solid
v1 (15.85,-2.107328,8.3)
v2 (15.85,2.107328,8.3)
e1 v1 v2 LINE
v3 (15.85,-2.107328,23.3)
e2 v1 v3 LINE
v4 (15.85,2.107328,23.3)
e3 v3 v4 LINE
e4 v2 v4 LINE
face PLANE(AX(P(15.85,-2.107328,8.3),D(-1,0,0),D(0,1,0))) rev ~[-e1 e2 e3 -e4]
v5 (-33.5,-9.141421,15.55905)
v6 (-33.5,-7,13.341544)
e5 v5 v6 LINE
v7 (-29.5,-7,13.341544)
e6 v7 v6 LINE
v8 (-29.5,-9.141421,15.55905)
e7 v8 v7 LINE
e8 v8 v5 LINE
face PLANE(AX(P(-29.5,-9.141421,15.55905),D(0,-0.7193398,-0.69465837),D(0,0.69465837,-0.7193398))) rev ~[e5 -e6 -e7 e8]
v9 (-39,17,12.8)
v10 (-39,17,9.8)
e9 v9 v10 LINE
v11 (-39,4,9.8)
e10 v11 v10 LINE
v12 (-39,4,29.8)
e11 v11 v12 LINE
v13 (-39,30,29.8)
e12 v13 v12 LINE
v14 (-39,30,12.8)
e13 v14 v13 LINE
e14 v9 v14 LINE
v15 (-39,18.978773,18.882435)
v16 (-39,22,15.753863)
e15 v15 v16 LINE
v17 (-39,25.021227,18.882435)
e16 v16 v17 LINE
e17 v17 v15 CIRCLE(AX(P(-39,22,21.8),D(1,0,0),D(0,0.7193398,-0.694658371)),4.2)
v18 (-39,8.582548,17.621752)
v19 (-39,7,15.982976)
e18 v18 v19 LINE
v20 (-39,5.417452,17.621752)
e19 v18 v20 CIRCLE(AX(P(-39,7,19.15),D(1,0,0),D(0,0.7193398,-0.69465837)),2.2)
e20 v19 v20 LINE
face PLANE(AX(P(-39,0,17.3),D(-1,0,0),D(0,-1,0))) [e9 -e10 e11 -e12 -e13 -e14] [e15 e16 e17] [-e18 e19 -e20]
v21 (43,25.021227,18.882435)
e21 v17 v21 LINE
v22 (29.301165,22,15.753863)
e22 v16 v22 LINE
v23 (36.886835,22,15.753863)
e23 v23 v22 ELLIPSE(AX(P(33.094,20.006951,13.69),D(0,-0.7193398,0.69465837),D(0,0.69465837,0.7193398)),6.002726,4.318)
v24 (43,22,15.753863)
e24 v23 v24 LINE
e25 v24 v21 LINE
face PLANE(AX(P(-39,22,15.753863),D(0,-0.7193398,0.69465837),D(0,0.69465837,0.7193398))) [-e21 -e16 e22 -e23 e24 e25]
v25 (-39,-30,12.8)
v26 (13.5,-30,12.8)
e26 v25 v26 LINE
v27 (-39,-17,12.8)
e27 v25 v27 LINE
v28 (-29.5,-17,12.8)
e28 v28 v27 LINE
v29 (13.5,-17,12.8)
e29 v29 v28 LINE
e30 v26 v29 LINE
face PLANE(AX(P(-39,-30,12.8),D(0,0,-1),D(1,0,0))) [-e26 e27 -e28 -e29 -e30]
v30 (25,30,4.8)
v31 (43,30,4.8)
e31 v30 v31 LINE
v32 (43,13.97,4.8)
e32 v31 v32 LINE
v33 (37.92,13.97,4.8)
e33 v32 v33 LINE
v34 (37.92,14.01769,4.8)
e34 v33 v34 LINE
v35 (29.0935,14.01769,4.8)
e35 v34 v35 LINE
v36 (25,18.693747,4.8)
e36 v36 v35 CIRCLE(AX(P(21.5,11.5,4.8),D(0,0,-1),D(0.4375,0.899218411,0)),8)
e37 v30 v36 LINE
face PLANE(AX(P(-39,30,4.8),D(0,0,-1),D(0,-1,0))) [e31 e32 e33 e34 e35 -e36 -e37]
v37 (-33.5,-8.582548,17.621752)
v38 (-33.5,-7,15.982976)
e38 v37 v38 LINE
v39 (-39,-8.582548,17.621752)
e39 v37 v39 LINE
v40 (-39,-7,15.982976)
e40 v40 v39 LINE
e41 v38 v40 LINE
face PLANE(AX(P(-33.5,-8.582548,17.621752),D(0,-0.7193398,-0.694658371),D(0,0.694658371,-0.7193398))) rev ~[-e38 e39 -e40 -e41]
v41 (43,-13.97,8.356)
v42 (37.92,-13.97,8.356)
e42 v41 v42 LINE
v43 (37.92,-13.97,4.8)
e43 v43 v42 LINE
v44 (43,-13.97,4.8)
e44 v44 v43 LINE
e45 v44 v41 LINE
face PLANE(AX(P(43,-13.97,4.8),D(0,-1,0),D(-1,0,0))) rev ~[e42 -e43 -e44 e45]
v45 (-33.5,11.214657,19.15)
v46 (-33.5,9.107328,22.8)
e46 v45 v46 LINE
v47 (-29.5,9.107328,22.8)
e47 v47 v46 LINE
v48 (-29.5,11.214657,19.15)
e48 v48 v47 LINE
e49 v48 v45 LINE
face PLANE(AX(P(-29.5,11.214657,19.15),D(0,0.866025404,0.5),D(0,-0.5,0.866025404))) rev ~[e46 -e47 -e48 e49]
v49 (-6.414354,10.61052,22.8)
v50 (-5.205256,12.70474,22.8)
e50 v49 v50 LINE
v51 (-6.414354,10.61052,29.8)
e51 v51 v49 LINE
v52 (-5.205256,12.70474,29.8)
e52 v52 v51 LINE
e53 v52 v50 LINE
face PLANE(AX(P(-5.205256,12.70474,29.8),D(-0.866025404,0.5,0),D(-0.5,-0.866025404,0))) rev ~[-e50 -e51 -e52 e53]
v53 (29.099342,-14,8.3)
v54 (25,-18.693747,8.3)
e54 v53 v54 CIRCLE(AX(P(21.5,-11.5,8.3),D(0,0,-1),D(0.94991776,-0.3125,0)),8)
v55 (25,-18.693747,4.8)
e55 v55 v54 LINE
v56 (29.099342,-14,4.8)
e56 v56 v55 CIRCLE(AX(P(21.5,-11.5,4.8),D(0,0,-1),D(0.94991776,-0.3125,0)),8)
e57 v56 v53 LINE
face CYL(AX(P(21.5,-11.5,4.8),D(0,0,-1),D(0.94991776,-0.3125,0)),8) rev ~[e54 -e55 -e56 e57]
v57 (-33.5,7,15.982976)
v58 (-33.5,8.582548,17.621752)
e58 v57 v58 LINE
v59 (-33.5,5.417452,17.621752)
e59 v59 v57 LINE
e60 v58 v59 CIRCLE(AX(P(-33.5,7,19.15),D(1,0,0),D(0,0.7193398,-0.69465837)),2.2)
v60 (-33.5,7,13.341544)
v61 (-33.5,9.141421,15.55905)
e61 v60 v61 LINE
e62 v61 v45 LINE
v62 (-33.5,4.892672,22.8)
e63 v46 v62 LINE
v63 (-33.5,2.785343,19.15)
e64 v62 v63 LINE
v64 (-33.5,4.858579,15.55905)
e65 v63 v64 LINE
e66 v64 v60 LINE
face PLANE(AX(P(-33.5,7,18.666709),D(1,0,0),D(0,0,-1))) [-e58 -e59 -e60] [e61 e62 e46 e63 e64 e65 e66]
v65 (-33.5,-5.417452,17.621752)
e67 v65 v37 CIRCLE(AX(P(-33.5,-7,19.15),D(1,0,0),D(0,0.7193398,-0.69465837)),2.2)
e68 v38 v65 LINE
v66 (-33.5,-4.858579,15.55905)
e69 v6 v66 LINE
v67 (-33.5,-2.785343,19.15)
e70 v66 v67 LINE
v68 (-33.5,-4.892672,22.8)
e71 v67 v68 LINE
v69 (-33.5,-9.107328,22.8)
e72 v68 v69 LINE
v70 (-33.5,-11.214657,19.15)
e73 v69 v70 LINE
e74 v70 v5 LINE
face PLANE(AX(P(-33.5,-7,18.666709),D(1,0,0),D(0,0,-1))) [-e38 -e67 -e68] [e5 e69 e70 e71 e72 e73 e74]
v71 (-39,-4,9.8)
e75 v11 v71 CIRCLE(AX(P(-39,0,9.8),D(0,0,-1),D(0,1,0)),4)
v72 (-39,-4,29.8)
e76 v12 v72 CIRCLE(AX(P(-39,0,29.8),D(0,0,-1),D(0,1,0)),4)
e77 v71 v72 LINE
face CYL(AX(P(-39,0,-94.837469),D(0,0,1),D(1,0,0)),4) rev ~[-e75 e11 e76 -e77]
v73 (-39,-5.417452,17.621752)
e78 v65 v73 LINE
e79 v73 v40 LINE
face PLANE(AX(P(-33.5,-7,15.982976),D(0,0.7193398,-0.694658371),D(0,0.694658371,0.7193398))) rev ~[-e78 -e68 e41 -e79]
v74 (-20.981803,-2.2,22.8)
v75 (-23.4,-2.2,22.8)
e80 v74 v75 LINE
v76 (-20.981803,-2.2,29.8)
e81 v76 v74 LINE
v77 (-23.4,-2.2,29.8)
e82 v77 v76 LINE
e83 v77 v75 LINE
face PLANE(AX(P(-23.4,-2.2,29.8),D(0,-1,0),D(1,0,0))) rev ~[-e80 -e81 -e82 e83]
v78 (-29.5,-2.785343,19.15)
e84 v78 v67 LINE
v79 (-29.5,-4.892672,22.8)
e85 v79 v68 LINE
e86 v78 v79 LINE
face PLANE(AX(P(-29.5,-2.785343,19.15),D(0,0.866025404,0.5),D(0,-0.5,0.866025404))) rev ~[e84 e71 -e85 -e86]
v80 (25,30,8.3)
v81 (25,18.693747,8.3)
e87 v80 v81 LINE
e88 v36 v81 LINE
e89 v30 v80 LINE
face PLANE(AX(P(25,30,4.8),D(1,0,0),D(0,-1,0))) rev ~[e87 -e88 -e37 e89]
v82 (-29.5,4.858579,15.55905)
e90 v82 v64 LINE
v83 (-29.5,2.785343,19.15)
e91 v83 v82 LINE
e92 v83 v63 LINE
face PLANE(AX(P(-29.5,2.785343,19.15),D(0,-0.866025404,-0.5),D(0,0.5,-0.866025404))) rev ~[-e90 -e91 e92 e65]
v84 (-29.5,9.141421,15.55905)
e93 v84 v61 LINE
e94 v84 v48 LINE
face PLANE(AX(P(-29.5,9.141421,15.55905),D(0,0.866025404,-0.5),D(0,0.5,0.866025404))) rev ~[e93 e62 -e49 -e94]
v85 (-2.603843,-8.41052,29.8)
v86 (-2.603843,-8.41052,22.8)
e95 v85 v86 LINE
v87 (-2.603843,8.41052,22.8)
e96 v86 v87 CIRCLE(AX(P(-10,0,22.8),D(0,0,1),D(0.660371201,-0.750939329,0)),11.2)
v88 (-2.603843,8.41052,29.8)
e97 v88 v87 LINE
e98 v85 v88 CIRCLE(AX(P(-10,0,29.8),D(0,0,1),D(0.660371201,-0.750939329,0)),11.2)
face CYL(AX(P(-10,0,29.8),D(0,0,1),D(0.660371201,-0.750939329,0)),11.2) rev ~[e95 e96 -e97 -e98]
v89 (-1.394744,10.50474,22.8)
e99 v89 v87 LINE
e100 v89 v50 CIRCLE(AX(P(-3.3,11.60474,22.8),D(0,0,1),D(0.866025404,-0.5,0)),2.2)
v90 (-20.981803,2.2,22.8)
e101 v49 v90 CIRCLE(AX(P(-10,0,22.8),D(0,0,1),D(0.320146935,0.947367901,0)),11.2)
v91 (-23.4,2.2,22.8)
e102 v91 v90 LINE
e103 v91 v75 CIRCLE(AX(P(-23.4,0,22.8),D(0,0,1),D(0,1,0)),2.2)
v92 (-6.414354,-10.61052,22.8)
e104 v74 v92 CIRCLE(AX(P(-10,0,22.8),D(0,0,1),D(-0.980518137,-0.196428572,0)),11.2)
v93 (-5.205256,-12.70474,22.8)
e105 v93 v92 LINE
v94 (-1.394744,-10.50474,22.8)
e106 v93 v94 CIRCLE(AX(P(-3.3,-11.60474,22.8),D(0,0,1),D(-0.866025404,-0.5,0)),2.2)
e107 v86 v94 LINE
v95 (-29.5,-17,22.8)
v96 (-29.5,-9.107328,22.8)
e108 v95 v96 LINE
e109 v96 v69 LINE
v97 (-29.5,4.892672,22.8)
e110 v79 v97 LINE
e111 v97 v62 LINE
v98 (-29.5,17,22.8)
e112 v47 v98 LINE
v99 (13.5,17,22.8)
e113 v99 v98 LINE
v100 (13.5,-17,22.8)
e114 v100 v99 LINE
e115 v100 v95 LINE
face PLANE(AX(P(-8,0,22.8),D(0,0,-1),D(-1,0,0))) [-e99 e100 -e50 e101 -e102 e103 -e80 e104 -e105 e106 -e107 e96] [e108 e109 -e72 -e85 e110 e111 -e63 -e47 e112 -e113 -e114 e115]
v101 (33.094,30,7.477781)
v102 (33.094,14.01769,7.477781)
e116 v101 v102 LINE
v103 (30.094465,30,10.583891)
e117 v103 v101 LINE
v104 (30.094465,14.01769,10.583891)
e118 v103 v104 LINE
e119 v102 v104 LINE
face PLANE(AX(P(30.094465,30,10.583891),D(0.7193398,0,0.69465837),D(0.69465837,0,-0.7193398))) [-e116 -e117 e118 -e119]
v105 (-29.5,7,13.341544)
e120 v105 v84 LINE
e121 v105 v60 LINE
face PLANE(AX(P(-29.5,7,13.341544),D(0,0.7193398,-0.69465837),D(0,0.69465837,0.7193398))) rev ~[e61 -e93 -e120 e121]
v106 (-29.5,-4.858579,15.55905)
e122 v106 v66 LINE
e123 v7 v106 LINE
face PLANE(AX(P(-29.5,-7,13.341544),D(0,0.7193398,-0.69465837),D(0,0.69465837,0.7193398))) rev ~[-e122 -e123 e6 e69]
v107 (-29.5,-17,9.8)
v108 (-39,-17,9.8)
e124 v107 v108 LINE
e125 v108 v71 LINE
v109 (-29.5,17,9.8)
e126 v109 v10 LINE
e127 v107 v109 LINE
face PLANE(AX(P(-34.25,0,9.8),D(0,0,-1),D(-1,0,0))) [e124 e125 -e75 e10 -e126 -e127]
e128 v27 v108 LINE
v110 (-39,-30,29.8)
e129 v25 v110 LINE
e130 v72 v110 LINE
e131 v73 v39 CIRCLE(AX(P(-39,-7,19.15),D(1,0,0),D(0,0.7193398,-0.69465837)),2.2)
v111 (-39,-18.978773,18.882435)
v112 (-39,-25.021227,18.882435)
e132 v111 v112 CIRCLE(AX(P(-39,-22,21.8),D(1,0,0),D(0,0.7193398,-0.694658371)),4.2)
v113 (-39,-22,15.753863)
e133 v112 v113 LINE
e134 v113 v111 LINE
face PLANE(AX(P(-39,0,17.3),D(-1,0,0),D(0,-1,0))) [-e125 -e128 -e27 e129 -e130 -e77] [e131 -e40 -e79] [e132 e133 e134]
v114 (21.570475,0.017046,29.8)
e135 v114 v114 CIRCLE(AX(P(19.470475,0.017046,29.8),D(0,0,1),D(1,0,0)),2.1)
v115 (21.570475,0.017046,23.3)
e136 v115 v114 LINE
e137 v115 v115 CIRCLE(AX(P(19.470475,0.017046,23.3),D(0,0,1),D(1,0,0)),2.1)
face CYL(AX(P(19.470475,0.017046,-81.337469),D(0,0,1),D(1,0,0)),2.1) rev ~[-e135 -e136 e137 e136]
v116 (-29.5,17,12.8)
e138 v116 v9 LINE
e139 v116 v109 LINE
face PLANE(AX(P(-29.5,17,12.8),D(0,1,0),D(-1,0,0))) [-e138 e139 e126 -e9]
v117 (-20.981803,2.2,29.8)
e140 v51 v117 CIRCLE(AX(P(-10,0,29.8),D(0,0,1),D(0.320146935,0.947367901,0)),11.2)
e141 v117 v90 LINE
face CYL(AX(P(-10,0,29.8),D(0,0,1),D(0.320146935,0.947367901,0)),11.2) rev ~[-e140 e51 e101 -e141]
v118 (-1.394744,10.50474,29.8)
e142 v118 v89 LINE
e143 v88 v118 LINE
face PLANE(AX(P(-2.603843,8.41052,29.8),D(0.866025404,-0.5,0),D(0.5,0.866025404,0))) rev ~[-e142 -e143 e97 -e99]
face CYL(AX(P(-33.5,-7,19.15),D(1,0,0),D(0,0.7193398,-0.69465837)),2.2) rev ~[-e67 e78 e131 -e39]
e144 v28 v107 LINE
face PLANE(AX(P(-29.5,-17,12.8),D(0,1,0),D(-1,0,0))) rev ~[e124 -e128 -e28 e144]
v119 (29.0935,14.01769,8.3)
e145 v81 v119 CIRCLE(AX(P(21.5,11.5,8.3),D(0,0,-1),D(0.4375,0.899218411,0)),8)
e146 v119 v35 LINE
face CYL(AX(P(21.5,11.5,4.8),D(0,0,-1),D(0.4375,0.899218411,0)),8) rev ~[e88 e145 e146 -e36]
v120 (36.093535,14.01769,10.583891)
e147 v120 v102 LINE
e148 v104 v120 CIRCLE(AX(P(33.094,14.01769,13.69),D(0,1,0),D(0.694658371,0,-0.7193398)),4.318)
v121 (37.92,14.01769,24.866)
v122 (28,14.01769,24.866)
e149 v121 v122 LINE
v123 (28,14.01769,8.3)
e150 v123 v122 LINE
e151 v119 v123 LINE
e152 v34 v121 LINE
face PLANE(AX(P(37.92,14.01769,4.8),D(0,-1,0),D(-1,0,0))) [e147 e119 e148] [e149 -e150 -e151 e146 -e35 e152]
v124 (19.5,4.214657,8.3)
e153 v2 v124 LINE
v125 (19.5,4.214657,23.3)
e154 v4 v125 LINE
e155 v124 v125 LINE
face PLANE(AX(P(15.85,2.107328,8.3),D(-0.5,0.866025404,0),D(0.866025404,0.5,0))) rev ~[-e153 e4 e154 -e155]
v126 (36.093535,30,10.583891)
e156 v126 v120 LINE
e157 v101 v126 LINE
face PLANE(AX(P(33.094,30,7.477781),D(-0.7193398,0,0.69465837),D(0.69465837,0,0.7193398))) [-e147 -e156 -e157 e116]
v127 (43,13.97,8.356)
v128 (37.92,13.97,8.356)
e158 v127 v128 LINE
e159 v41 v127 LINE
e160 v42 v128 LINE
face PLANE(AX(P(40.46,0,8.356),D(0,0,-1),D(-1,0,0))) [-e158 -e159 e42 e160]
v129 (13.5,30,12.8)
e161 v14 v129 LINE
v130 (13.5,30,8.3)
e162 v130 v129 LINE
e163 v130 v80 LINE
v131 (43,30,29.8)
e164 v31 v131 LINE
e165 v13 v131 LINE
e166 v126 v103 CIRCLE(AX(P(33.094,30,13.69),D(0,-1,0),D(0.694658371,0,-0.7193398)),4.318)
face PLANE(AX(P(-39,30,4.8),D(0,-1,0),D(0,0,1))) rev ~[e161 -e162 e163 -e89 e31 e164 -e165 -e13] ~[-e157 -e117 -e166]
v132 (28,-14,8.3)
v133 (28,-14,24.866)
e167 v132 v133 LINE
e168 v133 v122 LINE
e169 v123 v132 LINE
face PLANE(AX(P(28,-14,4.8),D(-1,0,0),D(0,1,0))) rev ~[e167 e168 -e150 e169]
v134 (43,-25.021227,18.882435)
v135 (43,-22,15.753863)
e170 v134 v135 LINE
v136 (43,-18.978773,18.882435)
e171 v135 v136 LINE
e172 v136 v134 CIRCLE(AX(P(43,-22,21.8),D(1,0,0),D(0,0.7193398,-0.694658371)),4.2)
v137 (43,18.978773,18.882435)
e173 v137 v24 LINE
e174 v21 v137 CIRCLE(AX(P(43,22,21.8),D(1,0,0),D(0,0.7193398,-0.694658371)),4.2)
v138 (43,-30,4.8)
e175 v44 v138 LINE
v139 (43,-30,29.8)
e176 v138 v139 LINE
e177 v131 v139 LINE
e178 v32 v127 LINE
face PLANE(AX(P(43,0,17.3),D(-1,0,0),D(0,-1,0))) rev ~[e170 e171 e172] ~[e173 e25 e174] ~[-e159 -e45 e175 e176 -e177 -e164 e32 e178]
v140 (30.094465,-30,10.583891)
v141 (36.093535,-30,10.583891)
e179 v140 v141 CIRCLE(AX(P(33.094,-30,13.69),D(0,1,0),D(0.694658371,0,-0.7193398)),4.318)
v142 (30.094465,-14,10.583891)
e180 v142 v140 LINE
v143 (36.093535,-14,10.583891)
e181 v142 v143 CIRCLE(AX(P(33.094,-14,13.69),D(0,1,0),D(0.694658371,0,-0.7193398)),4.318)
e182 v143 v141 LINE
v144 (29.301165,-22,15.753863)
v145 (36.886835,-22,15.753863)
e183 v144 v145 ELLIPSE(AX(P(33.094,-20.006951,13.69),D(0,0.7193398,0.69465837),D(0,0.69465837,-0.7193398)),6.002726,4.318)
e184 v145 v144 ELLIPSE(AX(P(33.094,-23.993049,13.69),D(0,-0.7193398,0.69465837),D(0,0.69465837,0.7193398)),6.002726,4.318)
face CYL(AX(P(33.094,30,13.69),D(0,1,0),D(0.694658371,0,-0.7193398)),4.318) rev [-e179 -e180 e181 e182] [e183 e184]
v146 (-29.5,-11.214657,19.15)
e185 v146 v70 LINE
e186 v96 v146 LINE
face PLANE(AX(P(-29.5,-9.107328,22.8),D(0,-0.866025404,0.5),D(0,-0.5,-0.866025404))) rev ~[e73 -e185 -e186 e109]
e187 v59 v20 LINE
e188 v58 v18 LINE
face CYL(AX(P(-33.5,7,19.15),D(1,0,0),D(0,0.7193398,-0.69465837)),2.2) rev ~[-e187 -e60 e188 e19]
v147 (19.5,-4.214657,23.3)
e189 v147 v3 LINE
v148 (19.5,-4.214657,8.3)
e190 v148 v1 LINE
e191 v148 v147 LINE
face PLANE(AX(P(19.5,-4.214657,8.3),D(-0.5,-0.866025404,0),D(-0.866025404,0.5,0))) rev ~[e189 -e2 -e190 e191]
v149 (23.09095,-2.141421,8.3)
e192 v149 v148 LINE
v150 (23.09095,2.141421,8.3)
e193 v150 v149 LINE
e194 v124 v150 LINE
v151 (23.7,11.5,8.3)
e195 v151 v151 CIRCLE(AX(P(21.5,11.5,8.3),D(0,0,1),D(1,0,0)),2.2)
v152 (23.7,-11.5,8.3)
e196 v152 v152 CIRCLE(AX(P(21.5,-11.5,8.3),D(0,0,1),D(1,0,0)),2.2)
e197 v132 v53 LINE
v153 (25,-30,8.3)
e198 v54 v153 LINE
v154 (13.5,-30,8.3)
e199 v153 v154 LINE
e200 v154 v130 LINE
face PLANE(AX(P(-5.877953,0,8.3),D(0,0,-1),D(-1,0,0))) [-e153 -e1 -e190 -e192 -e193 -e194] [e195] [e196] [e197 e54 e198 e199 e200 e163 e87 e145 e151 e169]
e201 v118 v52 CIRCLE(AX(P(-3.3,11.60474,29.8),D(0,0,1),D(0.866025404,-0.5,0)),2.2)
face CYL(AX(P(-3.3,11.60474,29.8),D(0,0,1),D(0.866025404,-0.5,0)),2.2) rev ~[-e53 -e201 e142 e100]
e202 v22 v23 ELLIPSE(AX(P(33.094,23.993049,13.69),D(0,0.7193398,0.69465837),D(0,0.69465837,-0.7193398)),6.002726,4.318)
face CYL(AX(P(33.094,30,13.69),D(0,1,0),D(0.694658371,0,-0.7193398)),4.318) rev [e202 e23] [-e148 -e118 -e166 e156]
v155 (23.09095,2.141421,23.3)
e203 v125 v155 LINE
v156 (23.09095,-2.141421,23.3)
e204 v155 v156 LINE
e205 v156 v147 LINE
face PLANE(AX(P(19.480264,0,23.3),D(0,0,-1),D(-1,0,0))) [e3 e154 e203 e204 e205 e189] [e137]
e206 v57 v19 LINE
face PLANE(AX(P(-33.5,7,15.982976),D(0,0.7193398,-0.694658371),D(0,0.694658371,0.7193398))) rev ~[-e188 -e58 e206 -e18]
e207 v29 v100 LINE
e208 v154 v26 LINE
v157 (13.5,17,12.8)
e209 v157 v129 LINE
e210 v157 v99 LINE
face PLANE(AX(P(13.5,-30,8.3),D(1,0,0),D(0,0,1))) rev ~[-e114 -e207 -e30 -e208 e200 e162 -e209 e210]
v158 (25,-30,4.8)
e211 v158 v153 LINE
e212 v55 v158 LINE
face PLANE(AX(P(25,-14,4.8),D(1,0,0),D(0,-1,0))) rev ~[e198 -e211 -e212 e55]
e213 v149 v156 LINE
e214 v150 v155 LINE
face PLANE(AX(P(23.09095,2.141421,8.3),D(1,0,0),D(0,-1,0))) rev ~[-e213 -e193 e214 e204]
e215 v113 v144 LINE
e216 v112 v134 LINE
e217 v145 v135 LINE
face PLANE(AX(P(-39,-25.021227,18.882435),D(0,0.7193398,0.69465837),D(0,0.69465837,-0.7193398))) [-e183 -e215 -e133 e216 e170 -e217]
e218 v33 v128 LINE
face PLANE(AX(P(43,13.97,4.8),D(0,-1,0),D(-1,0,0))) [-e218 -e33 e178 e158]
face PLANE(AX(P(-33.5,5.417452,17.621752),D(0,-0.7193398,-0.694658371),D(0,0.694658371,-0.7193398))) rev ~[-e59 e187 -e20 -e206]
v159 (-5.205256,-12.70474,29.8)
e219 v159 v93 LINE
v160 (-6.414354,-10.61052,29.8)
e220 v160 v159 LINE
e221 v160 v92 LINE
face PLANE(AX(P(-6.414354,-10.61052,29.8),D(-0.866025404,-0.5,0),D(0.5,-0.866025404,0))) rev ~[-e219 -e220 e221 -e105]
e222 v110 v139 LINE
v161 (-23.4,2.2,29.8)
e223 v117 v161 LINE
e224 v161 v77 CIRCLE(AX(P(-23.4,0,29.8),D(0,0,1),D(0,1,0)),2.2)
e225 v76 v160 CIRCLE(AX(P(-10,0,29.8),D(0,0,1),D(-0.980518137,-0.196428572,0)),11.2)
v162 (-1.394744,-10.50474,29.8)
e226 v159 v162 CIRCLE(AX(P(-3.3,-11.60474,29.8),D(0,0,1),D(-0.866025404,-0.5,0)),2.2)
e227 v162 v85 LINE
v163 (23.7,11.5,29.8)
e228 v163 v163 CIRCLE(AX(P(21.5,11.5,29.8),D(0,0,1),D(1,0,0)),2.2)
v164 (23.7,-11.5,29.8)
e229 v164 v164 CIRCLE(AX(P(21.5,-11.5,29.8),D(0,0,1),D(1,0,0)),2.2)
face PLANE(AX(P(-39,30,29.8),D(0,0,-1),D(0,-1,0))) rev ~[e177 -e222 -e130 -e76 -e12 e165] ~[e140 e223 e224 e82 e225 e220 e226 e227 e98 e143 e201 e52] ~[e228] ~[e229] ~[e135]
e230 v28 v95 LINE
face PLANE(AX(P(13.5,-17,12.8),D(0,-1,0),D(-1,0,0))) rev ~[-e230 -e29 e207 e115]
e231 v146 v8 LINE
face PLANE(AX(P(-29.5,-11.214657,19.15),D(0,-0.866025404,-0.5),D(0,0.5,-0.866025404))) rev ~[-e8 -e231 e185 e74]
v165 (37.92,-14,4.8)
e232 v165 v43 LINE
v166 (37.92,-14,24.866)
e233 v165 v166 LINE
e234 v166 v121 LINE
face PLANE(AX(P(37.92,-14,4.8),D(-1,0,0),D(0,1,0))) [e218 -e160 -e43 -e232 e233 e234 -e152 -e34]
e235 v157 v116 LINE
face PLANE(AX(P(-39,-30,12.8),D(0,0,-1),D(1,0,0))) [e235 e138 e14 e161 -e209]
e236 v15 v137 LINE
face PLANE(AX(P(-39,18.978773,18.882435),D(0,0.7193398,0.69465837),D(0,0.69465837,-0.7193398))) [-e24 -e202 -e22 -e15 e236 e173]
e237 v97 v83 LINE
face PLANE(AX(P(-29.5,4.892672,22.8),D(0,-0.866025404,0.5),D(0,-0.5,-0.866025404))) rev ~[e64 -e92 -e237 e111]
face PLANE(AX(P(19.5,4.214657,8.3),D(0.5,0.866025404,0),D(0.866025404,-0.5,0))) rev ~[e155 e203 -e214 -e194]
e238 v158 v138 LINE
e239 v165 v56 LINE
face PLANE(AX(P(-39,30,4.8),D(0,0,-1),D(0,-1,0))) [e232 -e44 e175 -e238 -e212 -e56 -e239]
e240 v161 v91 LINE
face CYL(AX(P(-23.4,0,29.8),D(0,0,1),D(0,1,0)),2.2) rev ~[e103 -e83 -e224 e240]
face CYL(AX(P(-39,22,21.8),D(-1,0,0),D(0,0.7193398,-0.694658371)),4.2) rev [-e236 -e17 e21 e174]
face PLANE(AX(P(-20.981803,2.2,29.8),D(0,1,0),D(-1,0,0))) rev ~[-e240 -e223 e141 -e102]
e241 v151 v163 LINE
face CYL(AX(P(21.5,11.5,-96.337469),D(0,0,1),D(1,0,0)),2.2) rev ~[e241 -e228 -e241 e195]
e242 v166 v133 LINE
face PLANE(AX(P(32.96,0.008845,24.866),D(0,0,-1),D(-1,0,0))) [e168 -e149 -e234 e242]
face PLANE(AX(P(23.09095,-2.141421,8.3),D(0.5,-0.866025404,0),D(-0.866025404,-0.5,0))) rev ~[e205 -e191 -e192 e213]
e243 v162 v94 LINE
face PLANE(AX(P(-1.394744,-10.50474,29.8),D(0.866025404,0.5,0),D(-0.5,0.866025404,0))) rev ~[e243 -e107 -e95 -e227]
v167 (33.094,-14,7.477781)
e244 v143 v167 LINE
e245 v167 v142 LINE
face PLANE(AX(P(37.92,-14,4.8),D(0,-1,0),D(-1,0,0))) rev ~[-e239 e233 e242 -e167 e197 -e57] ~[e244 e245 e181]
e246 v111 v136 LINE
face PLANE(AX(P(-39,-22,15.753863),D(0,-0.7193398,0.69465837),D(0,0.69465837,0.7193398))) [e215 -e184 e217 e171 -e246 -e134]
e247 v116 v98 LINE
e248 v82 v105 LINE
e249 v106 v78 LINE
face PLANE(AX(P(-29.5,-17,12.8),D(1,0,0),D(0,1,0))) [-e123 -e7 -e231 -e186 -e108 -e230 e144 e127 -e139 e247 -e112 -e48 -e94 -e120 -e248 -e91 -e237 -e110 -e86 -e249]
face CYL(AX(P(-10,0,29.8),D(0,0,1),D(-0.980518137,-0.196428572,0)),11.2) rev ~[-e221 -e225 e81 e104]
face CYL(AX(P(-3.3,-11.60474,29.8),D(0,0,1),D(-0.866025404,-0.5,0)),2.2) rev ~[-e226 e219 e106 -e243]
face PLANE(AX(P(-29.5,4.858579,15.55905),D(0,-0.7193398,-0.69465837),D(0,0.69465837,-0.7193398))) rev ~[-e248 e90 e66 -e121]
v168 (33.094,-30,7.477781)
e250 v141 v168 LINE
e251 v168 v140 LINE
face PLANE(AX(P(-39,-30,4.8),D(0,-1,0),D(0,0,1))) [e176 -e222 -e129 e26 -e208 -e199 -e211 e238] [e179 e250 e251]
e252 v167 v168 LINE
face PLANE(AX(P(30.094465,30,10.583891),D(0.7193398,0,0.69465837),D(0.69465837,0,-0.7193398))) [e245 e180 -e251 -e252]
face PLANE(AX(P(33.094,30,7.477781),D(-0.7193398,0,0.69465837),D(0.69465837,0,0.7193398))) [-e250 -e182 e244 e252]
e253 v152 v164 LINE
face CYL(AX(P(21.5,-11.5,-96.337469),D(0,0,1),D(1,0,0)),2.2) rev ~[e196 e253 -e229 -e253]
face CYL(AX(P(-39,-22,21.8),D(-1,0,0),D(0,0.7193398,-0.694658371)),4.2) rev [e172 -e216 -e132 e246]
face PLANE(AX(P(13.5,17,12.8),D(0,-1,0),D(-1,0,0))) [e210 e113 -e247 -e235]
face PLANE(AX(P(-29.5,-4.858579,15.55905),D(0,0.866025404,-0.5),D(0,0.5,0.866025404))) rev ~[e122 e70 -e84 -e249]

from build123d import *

# Parameters (mm, degrees)
SKETCH1_W           = 60
SKETCH1_H           = 25
BOSS_EXTRUDE1_DEPTH = 82
CUT_EXTRUDE7_DEPTH  = 3.5
SKETCH50_W          = 52.5
SKETCH50_H          = 4.5
CUT_EXTRUDE9_DEPTH  = 80.605527446
SKETCH51_W          = 9.5
SKETCH51_H          = 34
BOSS_EXTRUDE2_DEPTH = 3
SKETCH52_W          = 43
SKETCH52_H          = 34
CUT_EXTRUDE10_DEPTH = 10
CUT_EXTRUDE11_DEPTH = 4
CUT_EXTRUDE12_DEPTH = 4
CUT_EXTRUDE13_DEPTH = 3.5
CUT_EXTRUDE14_DEPTH = 3.5
CUT_EXTRUDE15_DEPTH = 88.408752422
CUT_EXTRUDE16_DEPTH = 59.086142926
CUT_EXTRUDE17_DEPTH = 88.408752422
CUT_EXTRUDE18_DEPTH = 15
HOLE1_D             = 4.2
HOLE2_D             = 4.4
HOLE3_D             = 4.4
HOLE4_D             = 8
SKETCH125_W         = 5.08
SKETCH125_H         = 27.94
CUT_EXTRUDE19_DEPTH = 3.556
SKETCH126_W         = 9.92
SKETCH126_H         = 28.017689761
CUT_EXTRUDE20_DEPTH = 20.066
CUT_EXTRUDE21_DEPTH = 80.605527446


with BuildPart() as part:
    # Sketch1 → Boss-Extrude1 (new body)
    with BuildSketch(Plane(origin=(-39, 0, 0), x_dir=(0, -1, 0), z_dir=(-1, 0, 0))):
        with Locations((0, 17.3)):
            Rectangle(SKETCH1_W, SKETCH1_H)
        with BuildLine():
            Line((22, 15.753862534), (18.978772839, 18.882434844))
            ThreePointArc((18.978772839, 18.882434844), (22, 26), (25.021227161, 18.882434844))
            Line((25.021227161, 18.882434844), (22, 15.753862534))
        make_face(mode=Mode.SUBTRACT)
        with BuildLine():
            Line((-18.978772839, 18.882434844), (-22, 15.753862534))
            Line((-22, 15.753862534), (-25.021227161, 18.882434844))
            ThreePointArc((-25.021227161, 18.882434844), (-22, 26), (-18.978772839, 18.882434844))
        make_face(mode=Mode.SUBTRACT)
    extrude(amount=-BOSS_EXTRUDE1_DEPTH)

    # Sketch39 → Cut-Extrude7 (cut)
    with BuildSketch(Plane(origin=(0, 0, 4.8), x_dir=(-1, 0, 0), z_dir=(0, 0, -1))):
        Polygon((-28, 14), (-28, -14), (-25, -14), (-25, -30), (39, -30), (39, 30), (-25, 30), (-25, 14), align=None)
    extrude(amount=-CUT_EXTRUDE7_DEPTH, mode=Mode.SUBTRACT)

    # Sketch50 → Cut-Extrude9 (cut, through all)
    with BuildSketch(Plane.XZ.offset(30)):
        with Locations((-12.75, 10.55)):
            Rectangle(SKETCH50_W, SKETCH50_H)
    extrude(amount=-CUT_EXTRUDE9_DEPTH, mode=Mode.SUBTRACT)

    # Sketch51 → Boss-Extrude2 (add)
    with BuildSketch(Plane(origin=(0, 0, 12.8), x_dir=(-1, 0, 0), z_dir=(0, 0, -1))):
        with Locations((34.25, 0)):
            Rectangle(SKETCH51_W, SKETCH51_H)
    extrude(amount=BOSS_EXTRUDE2_DEPTH)

    # Sketch52 → Cut-Extrude10 (cut)
    with BuildSketch(Plane(origin=(0, 0, 12.8), x_dir=(-1, 0, 0), z_dir=(0, 0, -1))):
        with Locations((8, 0)):
            Rectangle(SKETCH52_W, SKETCH52_H)
    extrude(amount=-CUT_EXTRUDE10_DEPTH, mode=Mode.SUBTRACT)

    # Sketch63 → Cut-Extrude11 (cut)
    with BuildSketch(Plane(origin=(-29.5, 0, 0), x_dir=(0, 0, -1), z_dir=(1, 0, 0))):
        Polygon((-22.8, 4.892671517), (-19.15, 2.785343035), (-15.559049818, 4.858579089), (-13.34154355, 7), (-15.559049818, 9.141420911), (-19.15, 11.214656965), (-22.8, 9.107328483), align=None)
    extrude(amount=-CUT_EXTRUDE11_DEPTH, mode=Mode.SUBTRACT)

    # Sketch75 → Cut-Extrude12 (cut)
    with BuildSketch(Plane(origin=(-29.5, 0, 0), x_dir=(0, 0, -1), z_dir=(1, 0, 0))):
        Polygon((-15.559049818, -4.858579089), (-19.15, -2.785343035), (-22.8, -4.892671517), (-22.8, -9.107328483), (-19.15, -11.214656965), (-15.559049818, -9.141420911), (-13.34154355, -7), align=None)
    extrude(amount=-CUT_EXTRUDE12_DEPTH, mode=Mode.SUBTRACT)

    # Sketch76 → Cut-Extrude13 (cut)
    with BuildSketch(Plane(origin=(0, 0, 4.8), x_dir=(-1, 0, 0), z_dir=(0, 0, -1))):
        with BuildLine():
            Line((-25, -18.693747285), (-25, -14))
            Line((-25, -14), (-29.099342077, -14))
            ThreePointArc((-29.099342077, -14), (-27.525501185, -16.762445769), (-25, -18.693747285))
        make_face()
    extrude(amount=-CUT_EXTRUDE13_DEPTH, mode=Mode.SUBTRACT)

    # Sketch77 → Cut-Extrude14 (cut)
    with BuildSketch(Plane(origin=(0, 0, 4.8), x_dir=(-1, 0, 0), z_dir=(0, 0, -1))):
        with BuildLine():
            Line((-29.099342077, 14), (-25, 14))
            Line((-25, 14), (-25, 18.693747285))
            ThreePointArc((-25, 18.693747285), (-27.525501185, 16.762445769), (-29.099342077, 14))
        make_face()
    extrude(amount=-CUT_EXTRUDE14_DEPTH, mode=Mode.SUBTRACT)

    # Sketch89 → Cut-Extrude15 (cut, through all)
    with BuildSketch(Plane(origin=(-33.5, 0, 0), x_dir=(0, 0, -1), z_dir=(1, 0, 0))):
        with BuildLine():
            Line((-15.982975613, 7), (-17.621751585, 8.582547561))
            ThreePointArc((-17.621751585, 8.582547561), (-21.35, 7), (-17.621751585, 5.417452439))
            Line((-17.621751585, 5.417452439), (-15.982975613, 7))
        make_face()
    extrude(amount=-CUT_EXTRUDE15_DEPTH, mode=Mode.SUBTRACT)

    # Sketch90 → Cut-Extrude16 (cut, through all)
    with BuildSketch(Plane.XY.offset(29.8)):
        with BuildLine():
            Line((-23.4, -2.2), (-20.981803131, -2.2))
            ThreePointArc((-20.981803131, -2.2), (-15.6, -9.699484522), (-6.414354323, -10.61052049))
            Line((-6.414354323, -10.61052049), (-5.205255888, -12.704740411))
            ThreePointArc((-5.205255888, -12.704740411), (-2.2, -13.509996299), (-1.394744112, -10.504740411))
            Line((-1.394744112, -10.504740411), (-2.603842546, -8.41052049))
            ThreePointArc((-2.603842546, -8.41052049), (1.2, 0), (-2.603842546, 8.41052049))
            Line((-2.603842546, 8.41052049), (-1.394744112, 10.504740411))
            ThreePointArc((-1.394744112, 10.504740411), (-2.2, 13.509996299), (-5.205255888, 12.704740411))
            Line((-5.205255888, 12.704740411), (-6.414354323, 10.61052049))
            ThreePointArc((-6.414354323, 10.61052049), (-15.6, 9.699484522), (-20.981803131, 2.2))
            Line((-20.981803131, 2.2), (-23.4, 2.2))
            ThreePointArc((-23.4, 2.2), (-25.6, 0), (-23.4, -2.2))
        make_face()
    extrude(amount=-CUT_EXTRUDE16_DEPTH, mode=Mode.SUBTRACT)

    # Sketch103 → Cut-Extrude17 (cut, through all)
    with BuildSketch(Plane(origin=(-33.5, 0, 0), x_dir=(0, 0, -1), z_dir=(1, 0, 0))):
        with BuildLine():
            Line((-17.621751585, -8.582547561), (-15.982975613, -7))
            Line((-15.982975613, -7), (-17.621751585, -5.417452439))
            ThreePointArc((-17.621751585, -5.417452439), (-21.35, -7), (-17.621751585, -8.582547561))
        make_face()
    extrude(amount=-CUT_EXTRUDE17_DEPTH, mode=Mode.SUBTRACT)

    # Sketch116 → Cut-Extrude18 (cut)
    with BuildSketch(Plane(origin=(0, 0, 8.3), x_dir=(-1, 0, 0), z_dir=(0, 0, -1))):
        Polygon((-19.5, 4.214656965), (-23.090950182, 2.141420911), (-23.090950182, -2.141420911), (-19.5, -4.214656965), (-15.85, -2.107328483), (-15.85, 2.107328483), align=None)
    extrude(amount=-CUT_EXTRUDE18_DEPTH, mode=Mode.SUBTRACT)

    # Hole1 (through all)
    with Locations(Plane(origin=(0, 0, 23.3), x_dir=(-1, 0, 0), z_dir=(0, 0, -1))):
        with Locations((-19.470475091, 0.017046214)):
            Hole(HOLE1_D / 2)

    # Hole2 (through all)
    with Locations(Plane(origin=(0, 0, 8.3), x_dir=(-1, 0, 0), z_dir=(0, 0, -1))):
        with Locations((-21.5, 11.5)):
            Hole(HOLE2_D / 2)

    # Hole3 (through all)
    with Locations(Plane(origin=(0, 0, 8.3), x_dir=(-1, 0, 0), z_dir=(0, 0, -1))):
        with Locations((-21.5, -11.5)):
            Hole(HOLE3_D / 2)

    # Hole4 (through all)
    with Locations(Plane(origin=(0, 0, 9.8), x_dir=(-1, 0, 0), z_dir=(0, 0, -1))):
        with Locations((39, 0)):
            Hole(HOLE4_D / 2)

    # Sketch125 → Cut-Extrude19 (cut)
    with BuildSketch(Plane(origin=(0, 0, 4.8), x_dir=(-1, 0, 0), z_dir=(0, 0, -1))):
        with Locations((-40.46, 0)):
            Rectangle(SKETCH125_W, SKETCH125_H)
    extrude(amount=-CUT_EXTRUDE19_DEPTH, mode=Mode.SUBTRACT)

    # Sketch126 → Cut-Extrude20 (cut)
    with BuildSketch(Plane(origin=(0, 0, 4.8), x_dir=(-1, 0, 0), z_dir=(0, 0, -1))):
        with Locations((-32.96, 0.008844881)):
            Rectangle(SKETCH126_W, SKETCH126_H)
    extrude(amount=-CUT_EXTRUDE20_DEPTH, mode=Mode.SUBTRACT)

    # Sketch128 → Cut-Extrude21 (cut, through all)
    with BuildSketch(Plane(origin=(0, 30, 0), x_dir=(1, 0, 0), z_dir=(0, 1, 0))):
        with BuildLine():
            Line((30.094465156, -10.583890742), (33.094, -7.477781484))
            Line((33.094, -7.477781484), (36.093534844, -10.583890742))
            ThreePointArc((36.093534844, -10.583890742), (33.094, -18.008), (30.094465156, -10.583890742))
        make_face()
    extrude(amount=-CUT_EXTRUDE21_DEPTH, mode=Mode.SUBTRACT)


solid = part.part
